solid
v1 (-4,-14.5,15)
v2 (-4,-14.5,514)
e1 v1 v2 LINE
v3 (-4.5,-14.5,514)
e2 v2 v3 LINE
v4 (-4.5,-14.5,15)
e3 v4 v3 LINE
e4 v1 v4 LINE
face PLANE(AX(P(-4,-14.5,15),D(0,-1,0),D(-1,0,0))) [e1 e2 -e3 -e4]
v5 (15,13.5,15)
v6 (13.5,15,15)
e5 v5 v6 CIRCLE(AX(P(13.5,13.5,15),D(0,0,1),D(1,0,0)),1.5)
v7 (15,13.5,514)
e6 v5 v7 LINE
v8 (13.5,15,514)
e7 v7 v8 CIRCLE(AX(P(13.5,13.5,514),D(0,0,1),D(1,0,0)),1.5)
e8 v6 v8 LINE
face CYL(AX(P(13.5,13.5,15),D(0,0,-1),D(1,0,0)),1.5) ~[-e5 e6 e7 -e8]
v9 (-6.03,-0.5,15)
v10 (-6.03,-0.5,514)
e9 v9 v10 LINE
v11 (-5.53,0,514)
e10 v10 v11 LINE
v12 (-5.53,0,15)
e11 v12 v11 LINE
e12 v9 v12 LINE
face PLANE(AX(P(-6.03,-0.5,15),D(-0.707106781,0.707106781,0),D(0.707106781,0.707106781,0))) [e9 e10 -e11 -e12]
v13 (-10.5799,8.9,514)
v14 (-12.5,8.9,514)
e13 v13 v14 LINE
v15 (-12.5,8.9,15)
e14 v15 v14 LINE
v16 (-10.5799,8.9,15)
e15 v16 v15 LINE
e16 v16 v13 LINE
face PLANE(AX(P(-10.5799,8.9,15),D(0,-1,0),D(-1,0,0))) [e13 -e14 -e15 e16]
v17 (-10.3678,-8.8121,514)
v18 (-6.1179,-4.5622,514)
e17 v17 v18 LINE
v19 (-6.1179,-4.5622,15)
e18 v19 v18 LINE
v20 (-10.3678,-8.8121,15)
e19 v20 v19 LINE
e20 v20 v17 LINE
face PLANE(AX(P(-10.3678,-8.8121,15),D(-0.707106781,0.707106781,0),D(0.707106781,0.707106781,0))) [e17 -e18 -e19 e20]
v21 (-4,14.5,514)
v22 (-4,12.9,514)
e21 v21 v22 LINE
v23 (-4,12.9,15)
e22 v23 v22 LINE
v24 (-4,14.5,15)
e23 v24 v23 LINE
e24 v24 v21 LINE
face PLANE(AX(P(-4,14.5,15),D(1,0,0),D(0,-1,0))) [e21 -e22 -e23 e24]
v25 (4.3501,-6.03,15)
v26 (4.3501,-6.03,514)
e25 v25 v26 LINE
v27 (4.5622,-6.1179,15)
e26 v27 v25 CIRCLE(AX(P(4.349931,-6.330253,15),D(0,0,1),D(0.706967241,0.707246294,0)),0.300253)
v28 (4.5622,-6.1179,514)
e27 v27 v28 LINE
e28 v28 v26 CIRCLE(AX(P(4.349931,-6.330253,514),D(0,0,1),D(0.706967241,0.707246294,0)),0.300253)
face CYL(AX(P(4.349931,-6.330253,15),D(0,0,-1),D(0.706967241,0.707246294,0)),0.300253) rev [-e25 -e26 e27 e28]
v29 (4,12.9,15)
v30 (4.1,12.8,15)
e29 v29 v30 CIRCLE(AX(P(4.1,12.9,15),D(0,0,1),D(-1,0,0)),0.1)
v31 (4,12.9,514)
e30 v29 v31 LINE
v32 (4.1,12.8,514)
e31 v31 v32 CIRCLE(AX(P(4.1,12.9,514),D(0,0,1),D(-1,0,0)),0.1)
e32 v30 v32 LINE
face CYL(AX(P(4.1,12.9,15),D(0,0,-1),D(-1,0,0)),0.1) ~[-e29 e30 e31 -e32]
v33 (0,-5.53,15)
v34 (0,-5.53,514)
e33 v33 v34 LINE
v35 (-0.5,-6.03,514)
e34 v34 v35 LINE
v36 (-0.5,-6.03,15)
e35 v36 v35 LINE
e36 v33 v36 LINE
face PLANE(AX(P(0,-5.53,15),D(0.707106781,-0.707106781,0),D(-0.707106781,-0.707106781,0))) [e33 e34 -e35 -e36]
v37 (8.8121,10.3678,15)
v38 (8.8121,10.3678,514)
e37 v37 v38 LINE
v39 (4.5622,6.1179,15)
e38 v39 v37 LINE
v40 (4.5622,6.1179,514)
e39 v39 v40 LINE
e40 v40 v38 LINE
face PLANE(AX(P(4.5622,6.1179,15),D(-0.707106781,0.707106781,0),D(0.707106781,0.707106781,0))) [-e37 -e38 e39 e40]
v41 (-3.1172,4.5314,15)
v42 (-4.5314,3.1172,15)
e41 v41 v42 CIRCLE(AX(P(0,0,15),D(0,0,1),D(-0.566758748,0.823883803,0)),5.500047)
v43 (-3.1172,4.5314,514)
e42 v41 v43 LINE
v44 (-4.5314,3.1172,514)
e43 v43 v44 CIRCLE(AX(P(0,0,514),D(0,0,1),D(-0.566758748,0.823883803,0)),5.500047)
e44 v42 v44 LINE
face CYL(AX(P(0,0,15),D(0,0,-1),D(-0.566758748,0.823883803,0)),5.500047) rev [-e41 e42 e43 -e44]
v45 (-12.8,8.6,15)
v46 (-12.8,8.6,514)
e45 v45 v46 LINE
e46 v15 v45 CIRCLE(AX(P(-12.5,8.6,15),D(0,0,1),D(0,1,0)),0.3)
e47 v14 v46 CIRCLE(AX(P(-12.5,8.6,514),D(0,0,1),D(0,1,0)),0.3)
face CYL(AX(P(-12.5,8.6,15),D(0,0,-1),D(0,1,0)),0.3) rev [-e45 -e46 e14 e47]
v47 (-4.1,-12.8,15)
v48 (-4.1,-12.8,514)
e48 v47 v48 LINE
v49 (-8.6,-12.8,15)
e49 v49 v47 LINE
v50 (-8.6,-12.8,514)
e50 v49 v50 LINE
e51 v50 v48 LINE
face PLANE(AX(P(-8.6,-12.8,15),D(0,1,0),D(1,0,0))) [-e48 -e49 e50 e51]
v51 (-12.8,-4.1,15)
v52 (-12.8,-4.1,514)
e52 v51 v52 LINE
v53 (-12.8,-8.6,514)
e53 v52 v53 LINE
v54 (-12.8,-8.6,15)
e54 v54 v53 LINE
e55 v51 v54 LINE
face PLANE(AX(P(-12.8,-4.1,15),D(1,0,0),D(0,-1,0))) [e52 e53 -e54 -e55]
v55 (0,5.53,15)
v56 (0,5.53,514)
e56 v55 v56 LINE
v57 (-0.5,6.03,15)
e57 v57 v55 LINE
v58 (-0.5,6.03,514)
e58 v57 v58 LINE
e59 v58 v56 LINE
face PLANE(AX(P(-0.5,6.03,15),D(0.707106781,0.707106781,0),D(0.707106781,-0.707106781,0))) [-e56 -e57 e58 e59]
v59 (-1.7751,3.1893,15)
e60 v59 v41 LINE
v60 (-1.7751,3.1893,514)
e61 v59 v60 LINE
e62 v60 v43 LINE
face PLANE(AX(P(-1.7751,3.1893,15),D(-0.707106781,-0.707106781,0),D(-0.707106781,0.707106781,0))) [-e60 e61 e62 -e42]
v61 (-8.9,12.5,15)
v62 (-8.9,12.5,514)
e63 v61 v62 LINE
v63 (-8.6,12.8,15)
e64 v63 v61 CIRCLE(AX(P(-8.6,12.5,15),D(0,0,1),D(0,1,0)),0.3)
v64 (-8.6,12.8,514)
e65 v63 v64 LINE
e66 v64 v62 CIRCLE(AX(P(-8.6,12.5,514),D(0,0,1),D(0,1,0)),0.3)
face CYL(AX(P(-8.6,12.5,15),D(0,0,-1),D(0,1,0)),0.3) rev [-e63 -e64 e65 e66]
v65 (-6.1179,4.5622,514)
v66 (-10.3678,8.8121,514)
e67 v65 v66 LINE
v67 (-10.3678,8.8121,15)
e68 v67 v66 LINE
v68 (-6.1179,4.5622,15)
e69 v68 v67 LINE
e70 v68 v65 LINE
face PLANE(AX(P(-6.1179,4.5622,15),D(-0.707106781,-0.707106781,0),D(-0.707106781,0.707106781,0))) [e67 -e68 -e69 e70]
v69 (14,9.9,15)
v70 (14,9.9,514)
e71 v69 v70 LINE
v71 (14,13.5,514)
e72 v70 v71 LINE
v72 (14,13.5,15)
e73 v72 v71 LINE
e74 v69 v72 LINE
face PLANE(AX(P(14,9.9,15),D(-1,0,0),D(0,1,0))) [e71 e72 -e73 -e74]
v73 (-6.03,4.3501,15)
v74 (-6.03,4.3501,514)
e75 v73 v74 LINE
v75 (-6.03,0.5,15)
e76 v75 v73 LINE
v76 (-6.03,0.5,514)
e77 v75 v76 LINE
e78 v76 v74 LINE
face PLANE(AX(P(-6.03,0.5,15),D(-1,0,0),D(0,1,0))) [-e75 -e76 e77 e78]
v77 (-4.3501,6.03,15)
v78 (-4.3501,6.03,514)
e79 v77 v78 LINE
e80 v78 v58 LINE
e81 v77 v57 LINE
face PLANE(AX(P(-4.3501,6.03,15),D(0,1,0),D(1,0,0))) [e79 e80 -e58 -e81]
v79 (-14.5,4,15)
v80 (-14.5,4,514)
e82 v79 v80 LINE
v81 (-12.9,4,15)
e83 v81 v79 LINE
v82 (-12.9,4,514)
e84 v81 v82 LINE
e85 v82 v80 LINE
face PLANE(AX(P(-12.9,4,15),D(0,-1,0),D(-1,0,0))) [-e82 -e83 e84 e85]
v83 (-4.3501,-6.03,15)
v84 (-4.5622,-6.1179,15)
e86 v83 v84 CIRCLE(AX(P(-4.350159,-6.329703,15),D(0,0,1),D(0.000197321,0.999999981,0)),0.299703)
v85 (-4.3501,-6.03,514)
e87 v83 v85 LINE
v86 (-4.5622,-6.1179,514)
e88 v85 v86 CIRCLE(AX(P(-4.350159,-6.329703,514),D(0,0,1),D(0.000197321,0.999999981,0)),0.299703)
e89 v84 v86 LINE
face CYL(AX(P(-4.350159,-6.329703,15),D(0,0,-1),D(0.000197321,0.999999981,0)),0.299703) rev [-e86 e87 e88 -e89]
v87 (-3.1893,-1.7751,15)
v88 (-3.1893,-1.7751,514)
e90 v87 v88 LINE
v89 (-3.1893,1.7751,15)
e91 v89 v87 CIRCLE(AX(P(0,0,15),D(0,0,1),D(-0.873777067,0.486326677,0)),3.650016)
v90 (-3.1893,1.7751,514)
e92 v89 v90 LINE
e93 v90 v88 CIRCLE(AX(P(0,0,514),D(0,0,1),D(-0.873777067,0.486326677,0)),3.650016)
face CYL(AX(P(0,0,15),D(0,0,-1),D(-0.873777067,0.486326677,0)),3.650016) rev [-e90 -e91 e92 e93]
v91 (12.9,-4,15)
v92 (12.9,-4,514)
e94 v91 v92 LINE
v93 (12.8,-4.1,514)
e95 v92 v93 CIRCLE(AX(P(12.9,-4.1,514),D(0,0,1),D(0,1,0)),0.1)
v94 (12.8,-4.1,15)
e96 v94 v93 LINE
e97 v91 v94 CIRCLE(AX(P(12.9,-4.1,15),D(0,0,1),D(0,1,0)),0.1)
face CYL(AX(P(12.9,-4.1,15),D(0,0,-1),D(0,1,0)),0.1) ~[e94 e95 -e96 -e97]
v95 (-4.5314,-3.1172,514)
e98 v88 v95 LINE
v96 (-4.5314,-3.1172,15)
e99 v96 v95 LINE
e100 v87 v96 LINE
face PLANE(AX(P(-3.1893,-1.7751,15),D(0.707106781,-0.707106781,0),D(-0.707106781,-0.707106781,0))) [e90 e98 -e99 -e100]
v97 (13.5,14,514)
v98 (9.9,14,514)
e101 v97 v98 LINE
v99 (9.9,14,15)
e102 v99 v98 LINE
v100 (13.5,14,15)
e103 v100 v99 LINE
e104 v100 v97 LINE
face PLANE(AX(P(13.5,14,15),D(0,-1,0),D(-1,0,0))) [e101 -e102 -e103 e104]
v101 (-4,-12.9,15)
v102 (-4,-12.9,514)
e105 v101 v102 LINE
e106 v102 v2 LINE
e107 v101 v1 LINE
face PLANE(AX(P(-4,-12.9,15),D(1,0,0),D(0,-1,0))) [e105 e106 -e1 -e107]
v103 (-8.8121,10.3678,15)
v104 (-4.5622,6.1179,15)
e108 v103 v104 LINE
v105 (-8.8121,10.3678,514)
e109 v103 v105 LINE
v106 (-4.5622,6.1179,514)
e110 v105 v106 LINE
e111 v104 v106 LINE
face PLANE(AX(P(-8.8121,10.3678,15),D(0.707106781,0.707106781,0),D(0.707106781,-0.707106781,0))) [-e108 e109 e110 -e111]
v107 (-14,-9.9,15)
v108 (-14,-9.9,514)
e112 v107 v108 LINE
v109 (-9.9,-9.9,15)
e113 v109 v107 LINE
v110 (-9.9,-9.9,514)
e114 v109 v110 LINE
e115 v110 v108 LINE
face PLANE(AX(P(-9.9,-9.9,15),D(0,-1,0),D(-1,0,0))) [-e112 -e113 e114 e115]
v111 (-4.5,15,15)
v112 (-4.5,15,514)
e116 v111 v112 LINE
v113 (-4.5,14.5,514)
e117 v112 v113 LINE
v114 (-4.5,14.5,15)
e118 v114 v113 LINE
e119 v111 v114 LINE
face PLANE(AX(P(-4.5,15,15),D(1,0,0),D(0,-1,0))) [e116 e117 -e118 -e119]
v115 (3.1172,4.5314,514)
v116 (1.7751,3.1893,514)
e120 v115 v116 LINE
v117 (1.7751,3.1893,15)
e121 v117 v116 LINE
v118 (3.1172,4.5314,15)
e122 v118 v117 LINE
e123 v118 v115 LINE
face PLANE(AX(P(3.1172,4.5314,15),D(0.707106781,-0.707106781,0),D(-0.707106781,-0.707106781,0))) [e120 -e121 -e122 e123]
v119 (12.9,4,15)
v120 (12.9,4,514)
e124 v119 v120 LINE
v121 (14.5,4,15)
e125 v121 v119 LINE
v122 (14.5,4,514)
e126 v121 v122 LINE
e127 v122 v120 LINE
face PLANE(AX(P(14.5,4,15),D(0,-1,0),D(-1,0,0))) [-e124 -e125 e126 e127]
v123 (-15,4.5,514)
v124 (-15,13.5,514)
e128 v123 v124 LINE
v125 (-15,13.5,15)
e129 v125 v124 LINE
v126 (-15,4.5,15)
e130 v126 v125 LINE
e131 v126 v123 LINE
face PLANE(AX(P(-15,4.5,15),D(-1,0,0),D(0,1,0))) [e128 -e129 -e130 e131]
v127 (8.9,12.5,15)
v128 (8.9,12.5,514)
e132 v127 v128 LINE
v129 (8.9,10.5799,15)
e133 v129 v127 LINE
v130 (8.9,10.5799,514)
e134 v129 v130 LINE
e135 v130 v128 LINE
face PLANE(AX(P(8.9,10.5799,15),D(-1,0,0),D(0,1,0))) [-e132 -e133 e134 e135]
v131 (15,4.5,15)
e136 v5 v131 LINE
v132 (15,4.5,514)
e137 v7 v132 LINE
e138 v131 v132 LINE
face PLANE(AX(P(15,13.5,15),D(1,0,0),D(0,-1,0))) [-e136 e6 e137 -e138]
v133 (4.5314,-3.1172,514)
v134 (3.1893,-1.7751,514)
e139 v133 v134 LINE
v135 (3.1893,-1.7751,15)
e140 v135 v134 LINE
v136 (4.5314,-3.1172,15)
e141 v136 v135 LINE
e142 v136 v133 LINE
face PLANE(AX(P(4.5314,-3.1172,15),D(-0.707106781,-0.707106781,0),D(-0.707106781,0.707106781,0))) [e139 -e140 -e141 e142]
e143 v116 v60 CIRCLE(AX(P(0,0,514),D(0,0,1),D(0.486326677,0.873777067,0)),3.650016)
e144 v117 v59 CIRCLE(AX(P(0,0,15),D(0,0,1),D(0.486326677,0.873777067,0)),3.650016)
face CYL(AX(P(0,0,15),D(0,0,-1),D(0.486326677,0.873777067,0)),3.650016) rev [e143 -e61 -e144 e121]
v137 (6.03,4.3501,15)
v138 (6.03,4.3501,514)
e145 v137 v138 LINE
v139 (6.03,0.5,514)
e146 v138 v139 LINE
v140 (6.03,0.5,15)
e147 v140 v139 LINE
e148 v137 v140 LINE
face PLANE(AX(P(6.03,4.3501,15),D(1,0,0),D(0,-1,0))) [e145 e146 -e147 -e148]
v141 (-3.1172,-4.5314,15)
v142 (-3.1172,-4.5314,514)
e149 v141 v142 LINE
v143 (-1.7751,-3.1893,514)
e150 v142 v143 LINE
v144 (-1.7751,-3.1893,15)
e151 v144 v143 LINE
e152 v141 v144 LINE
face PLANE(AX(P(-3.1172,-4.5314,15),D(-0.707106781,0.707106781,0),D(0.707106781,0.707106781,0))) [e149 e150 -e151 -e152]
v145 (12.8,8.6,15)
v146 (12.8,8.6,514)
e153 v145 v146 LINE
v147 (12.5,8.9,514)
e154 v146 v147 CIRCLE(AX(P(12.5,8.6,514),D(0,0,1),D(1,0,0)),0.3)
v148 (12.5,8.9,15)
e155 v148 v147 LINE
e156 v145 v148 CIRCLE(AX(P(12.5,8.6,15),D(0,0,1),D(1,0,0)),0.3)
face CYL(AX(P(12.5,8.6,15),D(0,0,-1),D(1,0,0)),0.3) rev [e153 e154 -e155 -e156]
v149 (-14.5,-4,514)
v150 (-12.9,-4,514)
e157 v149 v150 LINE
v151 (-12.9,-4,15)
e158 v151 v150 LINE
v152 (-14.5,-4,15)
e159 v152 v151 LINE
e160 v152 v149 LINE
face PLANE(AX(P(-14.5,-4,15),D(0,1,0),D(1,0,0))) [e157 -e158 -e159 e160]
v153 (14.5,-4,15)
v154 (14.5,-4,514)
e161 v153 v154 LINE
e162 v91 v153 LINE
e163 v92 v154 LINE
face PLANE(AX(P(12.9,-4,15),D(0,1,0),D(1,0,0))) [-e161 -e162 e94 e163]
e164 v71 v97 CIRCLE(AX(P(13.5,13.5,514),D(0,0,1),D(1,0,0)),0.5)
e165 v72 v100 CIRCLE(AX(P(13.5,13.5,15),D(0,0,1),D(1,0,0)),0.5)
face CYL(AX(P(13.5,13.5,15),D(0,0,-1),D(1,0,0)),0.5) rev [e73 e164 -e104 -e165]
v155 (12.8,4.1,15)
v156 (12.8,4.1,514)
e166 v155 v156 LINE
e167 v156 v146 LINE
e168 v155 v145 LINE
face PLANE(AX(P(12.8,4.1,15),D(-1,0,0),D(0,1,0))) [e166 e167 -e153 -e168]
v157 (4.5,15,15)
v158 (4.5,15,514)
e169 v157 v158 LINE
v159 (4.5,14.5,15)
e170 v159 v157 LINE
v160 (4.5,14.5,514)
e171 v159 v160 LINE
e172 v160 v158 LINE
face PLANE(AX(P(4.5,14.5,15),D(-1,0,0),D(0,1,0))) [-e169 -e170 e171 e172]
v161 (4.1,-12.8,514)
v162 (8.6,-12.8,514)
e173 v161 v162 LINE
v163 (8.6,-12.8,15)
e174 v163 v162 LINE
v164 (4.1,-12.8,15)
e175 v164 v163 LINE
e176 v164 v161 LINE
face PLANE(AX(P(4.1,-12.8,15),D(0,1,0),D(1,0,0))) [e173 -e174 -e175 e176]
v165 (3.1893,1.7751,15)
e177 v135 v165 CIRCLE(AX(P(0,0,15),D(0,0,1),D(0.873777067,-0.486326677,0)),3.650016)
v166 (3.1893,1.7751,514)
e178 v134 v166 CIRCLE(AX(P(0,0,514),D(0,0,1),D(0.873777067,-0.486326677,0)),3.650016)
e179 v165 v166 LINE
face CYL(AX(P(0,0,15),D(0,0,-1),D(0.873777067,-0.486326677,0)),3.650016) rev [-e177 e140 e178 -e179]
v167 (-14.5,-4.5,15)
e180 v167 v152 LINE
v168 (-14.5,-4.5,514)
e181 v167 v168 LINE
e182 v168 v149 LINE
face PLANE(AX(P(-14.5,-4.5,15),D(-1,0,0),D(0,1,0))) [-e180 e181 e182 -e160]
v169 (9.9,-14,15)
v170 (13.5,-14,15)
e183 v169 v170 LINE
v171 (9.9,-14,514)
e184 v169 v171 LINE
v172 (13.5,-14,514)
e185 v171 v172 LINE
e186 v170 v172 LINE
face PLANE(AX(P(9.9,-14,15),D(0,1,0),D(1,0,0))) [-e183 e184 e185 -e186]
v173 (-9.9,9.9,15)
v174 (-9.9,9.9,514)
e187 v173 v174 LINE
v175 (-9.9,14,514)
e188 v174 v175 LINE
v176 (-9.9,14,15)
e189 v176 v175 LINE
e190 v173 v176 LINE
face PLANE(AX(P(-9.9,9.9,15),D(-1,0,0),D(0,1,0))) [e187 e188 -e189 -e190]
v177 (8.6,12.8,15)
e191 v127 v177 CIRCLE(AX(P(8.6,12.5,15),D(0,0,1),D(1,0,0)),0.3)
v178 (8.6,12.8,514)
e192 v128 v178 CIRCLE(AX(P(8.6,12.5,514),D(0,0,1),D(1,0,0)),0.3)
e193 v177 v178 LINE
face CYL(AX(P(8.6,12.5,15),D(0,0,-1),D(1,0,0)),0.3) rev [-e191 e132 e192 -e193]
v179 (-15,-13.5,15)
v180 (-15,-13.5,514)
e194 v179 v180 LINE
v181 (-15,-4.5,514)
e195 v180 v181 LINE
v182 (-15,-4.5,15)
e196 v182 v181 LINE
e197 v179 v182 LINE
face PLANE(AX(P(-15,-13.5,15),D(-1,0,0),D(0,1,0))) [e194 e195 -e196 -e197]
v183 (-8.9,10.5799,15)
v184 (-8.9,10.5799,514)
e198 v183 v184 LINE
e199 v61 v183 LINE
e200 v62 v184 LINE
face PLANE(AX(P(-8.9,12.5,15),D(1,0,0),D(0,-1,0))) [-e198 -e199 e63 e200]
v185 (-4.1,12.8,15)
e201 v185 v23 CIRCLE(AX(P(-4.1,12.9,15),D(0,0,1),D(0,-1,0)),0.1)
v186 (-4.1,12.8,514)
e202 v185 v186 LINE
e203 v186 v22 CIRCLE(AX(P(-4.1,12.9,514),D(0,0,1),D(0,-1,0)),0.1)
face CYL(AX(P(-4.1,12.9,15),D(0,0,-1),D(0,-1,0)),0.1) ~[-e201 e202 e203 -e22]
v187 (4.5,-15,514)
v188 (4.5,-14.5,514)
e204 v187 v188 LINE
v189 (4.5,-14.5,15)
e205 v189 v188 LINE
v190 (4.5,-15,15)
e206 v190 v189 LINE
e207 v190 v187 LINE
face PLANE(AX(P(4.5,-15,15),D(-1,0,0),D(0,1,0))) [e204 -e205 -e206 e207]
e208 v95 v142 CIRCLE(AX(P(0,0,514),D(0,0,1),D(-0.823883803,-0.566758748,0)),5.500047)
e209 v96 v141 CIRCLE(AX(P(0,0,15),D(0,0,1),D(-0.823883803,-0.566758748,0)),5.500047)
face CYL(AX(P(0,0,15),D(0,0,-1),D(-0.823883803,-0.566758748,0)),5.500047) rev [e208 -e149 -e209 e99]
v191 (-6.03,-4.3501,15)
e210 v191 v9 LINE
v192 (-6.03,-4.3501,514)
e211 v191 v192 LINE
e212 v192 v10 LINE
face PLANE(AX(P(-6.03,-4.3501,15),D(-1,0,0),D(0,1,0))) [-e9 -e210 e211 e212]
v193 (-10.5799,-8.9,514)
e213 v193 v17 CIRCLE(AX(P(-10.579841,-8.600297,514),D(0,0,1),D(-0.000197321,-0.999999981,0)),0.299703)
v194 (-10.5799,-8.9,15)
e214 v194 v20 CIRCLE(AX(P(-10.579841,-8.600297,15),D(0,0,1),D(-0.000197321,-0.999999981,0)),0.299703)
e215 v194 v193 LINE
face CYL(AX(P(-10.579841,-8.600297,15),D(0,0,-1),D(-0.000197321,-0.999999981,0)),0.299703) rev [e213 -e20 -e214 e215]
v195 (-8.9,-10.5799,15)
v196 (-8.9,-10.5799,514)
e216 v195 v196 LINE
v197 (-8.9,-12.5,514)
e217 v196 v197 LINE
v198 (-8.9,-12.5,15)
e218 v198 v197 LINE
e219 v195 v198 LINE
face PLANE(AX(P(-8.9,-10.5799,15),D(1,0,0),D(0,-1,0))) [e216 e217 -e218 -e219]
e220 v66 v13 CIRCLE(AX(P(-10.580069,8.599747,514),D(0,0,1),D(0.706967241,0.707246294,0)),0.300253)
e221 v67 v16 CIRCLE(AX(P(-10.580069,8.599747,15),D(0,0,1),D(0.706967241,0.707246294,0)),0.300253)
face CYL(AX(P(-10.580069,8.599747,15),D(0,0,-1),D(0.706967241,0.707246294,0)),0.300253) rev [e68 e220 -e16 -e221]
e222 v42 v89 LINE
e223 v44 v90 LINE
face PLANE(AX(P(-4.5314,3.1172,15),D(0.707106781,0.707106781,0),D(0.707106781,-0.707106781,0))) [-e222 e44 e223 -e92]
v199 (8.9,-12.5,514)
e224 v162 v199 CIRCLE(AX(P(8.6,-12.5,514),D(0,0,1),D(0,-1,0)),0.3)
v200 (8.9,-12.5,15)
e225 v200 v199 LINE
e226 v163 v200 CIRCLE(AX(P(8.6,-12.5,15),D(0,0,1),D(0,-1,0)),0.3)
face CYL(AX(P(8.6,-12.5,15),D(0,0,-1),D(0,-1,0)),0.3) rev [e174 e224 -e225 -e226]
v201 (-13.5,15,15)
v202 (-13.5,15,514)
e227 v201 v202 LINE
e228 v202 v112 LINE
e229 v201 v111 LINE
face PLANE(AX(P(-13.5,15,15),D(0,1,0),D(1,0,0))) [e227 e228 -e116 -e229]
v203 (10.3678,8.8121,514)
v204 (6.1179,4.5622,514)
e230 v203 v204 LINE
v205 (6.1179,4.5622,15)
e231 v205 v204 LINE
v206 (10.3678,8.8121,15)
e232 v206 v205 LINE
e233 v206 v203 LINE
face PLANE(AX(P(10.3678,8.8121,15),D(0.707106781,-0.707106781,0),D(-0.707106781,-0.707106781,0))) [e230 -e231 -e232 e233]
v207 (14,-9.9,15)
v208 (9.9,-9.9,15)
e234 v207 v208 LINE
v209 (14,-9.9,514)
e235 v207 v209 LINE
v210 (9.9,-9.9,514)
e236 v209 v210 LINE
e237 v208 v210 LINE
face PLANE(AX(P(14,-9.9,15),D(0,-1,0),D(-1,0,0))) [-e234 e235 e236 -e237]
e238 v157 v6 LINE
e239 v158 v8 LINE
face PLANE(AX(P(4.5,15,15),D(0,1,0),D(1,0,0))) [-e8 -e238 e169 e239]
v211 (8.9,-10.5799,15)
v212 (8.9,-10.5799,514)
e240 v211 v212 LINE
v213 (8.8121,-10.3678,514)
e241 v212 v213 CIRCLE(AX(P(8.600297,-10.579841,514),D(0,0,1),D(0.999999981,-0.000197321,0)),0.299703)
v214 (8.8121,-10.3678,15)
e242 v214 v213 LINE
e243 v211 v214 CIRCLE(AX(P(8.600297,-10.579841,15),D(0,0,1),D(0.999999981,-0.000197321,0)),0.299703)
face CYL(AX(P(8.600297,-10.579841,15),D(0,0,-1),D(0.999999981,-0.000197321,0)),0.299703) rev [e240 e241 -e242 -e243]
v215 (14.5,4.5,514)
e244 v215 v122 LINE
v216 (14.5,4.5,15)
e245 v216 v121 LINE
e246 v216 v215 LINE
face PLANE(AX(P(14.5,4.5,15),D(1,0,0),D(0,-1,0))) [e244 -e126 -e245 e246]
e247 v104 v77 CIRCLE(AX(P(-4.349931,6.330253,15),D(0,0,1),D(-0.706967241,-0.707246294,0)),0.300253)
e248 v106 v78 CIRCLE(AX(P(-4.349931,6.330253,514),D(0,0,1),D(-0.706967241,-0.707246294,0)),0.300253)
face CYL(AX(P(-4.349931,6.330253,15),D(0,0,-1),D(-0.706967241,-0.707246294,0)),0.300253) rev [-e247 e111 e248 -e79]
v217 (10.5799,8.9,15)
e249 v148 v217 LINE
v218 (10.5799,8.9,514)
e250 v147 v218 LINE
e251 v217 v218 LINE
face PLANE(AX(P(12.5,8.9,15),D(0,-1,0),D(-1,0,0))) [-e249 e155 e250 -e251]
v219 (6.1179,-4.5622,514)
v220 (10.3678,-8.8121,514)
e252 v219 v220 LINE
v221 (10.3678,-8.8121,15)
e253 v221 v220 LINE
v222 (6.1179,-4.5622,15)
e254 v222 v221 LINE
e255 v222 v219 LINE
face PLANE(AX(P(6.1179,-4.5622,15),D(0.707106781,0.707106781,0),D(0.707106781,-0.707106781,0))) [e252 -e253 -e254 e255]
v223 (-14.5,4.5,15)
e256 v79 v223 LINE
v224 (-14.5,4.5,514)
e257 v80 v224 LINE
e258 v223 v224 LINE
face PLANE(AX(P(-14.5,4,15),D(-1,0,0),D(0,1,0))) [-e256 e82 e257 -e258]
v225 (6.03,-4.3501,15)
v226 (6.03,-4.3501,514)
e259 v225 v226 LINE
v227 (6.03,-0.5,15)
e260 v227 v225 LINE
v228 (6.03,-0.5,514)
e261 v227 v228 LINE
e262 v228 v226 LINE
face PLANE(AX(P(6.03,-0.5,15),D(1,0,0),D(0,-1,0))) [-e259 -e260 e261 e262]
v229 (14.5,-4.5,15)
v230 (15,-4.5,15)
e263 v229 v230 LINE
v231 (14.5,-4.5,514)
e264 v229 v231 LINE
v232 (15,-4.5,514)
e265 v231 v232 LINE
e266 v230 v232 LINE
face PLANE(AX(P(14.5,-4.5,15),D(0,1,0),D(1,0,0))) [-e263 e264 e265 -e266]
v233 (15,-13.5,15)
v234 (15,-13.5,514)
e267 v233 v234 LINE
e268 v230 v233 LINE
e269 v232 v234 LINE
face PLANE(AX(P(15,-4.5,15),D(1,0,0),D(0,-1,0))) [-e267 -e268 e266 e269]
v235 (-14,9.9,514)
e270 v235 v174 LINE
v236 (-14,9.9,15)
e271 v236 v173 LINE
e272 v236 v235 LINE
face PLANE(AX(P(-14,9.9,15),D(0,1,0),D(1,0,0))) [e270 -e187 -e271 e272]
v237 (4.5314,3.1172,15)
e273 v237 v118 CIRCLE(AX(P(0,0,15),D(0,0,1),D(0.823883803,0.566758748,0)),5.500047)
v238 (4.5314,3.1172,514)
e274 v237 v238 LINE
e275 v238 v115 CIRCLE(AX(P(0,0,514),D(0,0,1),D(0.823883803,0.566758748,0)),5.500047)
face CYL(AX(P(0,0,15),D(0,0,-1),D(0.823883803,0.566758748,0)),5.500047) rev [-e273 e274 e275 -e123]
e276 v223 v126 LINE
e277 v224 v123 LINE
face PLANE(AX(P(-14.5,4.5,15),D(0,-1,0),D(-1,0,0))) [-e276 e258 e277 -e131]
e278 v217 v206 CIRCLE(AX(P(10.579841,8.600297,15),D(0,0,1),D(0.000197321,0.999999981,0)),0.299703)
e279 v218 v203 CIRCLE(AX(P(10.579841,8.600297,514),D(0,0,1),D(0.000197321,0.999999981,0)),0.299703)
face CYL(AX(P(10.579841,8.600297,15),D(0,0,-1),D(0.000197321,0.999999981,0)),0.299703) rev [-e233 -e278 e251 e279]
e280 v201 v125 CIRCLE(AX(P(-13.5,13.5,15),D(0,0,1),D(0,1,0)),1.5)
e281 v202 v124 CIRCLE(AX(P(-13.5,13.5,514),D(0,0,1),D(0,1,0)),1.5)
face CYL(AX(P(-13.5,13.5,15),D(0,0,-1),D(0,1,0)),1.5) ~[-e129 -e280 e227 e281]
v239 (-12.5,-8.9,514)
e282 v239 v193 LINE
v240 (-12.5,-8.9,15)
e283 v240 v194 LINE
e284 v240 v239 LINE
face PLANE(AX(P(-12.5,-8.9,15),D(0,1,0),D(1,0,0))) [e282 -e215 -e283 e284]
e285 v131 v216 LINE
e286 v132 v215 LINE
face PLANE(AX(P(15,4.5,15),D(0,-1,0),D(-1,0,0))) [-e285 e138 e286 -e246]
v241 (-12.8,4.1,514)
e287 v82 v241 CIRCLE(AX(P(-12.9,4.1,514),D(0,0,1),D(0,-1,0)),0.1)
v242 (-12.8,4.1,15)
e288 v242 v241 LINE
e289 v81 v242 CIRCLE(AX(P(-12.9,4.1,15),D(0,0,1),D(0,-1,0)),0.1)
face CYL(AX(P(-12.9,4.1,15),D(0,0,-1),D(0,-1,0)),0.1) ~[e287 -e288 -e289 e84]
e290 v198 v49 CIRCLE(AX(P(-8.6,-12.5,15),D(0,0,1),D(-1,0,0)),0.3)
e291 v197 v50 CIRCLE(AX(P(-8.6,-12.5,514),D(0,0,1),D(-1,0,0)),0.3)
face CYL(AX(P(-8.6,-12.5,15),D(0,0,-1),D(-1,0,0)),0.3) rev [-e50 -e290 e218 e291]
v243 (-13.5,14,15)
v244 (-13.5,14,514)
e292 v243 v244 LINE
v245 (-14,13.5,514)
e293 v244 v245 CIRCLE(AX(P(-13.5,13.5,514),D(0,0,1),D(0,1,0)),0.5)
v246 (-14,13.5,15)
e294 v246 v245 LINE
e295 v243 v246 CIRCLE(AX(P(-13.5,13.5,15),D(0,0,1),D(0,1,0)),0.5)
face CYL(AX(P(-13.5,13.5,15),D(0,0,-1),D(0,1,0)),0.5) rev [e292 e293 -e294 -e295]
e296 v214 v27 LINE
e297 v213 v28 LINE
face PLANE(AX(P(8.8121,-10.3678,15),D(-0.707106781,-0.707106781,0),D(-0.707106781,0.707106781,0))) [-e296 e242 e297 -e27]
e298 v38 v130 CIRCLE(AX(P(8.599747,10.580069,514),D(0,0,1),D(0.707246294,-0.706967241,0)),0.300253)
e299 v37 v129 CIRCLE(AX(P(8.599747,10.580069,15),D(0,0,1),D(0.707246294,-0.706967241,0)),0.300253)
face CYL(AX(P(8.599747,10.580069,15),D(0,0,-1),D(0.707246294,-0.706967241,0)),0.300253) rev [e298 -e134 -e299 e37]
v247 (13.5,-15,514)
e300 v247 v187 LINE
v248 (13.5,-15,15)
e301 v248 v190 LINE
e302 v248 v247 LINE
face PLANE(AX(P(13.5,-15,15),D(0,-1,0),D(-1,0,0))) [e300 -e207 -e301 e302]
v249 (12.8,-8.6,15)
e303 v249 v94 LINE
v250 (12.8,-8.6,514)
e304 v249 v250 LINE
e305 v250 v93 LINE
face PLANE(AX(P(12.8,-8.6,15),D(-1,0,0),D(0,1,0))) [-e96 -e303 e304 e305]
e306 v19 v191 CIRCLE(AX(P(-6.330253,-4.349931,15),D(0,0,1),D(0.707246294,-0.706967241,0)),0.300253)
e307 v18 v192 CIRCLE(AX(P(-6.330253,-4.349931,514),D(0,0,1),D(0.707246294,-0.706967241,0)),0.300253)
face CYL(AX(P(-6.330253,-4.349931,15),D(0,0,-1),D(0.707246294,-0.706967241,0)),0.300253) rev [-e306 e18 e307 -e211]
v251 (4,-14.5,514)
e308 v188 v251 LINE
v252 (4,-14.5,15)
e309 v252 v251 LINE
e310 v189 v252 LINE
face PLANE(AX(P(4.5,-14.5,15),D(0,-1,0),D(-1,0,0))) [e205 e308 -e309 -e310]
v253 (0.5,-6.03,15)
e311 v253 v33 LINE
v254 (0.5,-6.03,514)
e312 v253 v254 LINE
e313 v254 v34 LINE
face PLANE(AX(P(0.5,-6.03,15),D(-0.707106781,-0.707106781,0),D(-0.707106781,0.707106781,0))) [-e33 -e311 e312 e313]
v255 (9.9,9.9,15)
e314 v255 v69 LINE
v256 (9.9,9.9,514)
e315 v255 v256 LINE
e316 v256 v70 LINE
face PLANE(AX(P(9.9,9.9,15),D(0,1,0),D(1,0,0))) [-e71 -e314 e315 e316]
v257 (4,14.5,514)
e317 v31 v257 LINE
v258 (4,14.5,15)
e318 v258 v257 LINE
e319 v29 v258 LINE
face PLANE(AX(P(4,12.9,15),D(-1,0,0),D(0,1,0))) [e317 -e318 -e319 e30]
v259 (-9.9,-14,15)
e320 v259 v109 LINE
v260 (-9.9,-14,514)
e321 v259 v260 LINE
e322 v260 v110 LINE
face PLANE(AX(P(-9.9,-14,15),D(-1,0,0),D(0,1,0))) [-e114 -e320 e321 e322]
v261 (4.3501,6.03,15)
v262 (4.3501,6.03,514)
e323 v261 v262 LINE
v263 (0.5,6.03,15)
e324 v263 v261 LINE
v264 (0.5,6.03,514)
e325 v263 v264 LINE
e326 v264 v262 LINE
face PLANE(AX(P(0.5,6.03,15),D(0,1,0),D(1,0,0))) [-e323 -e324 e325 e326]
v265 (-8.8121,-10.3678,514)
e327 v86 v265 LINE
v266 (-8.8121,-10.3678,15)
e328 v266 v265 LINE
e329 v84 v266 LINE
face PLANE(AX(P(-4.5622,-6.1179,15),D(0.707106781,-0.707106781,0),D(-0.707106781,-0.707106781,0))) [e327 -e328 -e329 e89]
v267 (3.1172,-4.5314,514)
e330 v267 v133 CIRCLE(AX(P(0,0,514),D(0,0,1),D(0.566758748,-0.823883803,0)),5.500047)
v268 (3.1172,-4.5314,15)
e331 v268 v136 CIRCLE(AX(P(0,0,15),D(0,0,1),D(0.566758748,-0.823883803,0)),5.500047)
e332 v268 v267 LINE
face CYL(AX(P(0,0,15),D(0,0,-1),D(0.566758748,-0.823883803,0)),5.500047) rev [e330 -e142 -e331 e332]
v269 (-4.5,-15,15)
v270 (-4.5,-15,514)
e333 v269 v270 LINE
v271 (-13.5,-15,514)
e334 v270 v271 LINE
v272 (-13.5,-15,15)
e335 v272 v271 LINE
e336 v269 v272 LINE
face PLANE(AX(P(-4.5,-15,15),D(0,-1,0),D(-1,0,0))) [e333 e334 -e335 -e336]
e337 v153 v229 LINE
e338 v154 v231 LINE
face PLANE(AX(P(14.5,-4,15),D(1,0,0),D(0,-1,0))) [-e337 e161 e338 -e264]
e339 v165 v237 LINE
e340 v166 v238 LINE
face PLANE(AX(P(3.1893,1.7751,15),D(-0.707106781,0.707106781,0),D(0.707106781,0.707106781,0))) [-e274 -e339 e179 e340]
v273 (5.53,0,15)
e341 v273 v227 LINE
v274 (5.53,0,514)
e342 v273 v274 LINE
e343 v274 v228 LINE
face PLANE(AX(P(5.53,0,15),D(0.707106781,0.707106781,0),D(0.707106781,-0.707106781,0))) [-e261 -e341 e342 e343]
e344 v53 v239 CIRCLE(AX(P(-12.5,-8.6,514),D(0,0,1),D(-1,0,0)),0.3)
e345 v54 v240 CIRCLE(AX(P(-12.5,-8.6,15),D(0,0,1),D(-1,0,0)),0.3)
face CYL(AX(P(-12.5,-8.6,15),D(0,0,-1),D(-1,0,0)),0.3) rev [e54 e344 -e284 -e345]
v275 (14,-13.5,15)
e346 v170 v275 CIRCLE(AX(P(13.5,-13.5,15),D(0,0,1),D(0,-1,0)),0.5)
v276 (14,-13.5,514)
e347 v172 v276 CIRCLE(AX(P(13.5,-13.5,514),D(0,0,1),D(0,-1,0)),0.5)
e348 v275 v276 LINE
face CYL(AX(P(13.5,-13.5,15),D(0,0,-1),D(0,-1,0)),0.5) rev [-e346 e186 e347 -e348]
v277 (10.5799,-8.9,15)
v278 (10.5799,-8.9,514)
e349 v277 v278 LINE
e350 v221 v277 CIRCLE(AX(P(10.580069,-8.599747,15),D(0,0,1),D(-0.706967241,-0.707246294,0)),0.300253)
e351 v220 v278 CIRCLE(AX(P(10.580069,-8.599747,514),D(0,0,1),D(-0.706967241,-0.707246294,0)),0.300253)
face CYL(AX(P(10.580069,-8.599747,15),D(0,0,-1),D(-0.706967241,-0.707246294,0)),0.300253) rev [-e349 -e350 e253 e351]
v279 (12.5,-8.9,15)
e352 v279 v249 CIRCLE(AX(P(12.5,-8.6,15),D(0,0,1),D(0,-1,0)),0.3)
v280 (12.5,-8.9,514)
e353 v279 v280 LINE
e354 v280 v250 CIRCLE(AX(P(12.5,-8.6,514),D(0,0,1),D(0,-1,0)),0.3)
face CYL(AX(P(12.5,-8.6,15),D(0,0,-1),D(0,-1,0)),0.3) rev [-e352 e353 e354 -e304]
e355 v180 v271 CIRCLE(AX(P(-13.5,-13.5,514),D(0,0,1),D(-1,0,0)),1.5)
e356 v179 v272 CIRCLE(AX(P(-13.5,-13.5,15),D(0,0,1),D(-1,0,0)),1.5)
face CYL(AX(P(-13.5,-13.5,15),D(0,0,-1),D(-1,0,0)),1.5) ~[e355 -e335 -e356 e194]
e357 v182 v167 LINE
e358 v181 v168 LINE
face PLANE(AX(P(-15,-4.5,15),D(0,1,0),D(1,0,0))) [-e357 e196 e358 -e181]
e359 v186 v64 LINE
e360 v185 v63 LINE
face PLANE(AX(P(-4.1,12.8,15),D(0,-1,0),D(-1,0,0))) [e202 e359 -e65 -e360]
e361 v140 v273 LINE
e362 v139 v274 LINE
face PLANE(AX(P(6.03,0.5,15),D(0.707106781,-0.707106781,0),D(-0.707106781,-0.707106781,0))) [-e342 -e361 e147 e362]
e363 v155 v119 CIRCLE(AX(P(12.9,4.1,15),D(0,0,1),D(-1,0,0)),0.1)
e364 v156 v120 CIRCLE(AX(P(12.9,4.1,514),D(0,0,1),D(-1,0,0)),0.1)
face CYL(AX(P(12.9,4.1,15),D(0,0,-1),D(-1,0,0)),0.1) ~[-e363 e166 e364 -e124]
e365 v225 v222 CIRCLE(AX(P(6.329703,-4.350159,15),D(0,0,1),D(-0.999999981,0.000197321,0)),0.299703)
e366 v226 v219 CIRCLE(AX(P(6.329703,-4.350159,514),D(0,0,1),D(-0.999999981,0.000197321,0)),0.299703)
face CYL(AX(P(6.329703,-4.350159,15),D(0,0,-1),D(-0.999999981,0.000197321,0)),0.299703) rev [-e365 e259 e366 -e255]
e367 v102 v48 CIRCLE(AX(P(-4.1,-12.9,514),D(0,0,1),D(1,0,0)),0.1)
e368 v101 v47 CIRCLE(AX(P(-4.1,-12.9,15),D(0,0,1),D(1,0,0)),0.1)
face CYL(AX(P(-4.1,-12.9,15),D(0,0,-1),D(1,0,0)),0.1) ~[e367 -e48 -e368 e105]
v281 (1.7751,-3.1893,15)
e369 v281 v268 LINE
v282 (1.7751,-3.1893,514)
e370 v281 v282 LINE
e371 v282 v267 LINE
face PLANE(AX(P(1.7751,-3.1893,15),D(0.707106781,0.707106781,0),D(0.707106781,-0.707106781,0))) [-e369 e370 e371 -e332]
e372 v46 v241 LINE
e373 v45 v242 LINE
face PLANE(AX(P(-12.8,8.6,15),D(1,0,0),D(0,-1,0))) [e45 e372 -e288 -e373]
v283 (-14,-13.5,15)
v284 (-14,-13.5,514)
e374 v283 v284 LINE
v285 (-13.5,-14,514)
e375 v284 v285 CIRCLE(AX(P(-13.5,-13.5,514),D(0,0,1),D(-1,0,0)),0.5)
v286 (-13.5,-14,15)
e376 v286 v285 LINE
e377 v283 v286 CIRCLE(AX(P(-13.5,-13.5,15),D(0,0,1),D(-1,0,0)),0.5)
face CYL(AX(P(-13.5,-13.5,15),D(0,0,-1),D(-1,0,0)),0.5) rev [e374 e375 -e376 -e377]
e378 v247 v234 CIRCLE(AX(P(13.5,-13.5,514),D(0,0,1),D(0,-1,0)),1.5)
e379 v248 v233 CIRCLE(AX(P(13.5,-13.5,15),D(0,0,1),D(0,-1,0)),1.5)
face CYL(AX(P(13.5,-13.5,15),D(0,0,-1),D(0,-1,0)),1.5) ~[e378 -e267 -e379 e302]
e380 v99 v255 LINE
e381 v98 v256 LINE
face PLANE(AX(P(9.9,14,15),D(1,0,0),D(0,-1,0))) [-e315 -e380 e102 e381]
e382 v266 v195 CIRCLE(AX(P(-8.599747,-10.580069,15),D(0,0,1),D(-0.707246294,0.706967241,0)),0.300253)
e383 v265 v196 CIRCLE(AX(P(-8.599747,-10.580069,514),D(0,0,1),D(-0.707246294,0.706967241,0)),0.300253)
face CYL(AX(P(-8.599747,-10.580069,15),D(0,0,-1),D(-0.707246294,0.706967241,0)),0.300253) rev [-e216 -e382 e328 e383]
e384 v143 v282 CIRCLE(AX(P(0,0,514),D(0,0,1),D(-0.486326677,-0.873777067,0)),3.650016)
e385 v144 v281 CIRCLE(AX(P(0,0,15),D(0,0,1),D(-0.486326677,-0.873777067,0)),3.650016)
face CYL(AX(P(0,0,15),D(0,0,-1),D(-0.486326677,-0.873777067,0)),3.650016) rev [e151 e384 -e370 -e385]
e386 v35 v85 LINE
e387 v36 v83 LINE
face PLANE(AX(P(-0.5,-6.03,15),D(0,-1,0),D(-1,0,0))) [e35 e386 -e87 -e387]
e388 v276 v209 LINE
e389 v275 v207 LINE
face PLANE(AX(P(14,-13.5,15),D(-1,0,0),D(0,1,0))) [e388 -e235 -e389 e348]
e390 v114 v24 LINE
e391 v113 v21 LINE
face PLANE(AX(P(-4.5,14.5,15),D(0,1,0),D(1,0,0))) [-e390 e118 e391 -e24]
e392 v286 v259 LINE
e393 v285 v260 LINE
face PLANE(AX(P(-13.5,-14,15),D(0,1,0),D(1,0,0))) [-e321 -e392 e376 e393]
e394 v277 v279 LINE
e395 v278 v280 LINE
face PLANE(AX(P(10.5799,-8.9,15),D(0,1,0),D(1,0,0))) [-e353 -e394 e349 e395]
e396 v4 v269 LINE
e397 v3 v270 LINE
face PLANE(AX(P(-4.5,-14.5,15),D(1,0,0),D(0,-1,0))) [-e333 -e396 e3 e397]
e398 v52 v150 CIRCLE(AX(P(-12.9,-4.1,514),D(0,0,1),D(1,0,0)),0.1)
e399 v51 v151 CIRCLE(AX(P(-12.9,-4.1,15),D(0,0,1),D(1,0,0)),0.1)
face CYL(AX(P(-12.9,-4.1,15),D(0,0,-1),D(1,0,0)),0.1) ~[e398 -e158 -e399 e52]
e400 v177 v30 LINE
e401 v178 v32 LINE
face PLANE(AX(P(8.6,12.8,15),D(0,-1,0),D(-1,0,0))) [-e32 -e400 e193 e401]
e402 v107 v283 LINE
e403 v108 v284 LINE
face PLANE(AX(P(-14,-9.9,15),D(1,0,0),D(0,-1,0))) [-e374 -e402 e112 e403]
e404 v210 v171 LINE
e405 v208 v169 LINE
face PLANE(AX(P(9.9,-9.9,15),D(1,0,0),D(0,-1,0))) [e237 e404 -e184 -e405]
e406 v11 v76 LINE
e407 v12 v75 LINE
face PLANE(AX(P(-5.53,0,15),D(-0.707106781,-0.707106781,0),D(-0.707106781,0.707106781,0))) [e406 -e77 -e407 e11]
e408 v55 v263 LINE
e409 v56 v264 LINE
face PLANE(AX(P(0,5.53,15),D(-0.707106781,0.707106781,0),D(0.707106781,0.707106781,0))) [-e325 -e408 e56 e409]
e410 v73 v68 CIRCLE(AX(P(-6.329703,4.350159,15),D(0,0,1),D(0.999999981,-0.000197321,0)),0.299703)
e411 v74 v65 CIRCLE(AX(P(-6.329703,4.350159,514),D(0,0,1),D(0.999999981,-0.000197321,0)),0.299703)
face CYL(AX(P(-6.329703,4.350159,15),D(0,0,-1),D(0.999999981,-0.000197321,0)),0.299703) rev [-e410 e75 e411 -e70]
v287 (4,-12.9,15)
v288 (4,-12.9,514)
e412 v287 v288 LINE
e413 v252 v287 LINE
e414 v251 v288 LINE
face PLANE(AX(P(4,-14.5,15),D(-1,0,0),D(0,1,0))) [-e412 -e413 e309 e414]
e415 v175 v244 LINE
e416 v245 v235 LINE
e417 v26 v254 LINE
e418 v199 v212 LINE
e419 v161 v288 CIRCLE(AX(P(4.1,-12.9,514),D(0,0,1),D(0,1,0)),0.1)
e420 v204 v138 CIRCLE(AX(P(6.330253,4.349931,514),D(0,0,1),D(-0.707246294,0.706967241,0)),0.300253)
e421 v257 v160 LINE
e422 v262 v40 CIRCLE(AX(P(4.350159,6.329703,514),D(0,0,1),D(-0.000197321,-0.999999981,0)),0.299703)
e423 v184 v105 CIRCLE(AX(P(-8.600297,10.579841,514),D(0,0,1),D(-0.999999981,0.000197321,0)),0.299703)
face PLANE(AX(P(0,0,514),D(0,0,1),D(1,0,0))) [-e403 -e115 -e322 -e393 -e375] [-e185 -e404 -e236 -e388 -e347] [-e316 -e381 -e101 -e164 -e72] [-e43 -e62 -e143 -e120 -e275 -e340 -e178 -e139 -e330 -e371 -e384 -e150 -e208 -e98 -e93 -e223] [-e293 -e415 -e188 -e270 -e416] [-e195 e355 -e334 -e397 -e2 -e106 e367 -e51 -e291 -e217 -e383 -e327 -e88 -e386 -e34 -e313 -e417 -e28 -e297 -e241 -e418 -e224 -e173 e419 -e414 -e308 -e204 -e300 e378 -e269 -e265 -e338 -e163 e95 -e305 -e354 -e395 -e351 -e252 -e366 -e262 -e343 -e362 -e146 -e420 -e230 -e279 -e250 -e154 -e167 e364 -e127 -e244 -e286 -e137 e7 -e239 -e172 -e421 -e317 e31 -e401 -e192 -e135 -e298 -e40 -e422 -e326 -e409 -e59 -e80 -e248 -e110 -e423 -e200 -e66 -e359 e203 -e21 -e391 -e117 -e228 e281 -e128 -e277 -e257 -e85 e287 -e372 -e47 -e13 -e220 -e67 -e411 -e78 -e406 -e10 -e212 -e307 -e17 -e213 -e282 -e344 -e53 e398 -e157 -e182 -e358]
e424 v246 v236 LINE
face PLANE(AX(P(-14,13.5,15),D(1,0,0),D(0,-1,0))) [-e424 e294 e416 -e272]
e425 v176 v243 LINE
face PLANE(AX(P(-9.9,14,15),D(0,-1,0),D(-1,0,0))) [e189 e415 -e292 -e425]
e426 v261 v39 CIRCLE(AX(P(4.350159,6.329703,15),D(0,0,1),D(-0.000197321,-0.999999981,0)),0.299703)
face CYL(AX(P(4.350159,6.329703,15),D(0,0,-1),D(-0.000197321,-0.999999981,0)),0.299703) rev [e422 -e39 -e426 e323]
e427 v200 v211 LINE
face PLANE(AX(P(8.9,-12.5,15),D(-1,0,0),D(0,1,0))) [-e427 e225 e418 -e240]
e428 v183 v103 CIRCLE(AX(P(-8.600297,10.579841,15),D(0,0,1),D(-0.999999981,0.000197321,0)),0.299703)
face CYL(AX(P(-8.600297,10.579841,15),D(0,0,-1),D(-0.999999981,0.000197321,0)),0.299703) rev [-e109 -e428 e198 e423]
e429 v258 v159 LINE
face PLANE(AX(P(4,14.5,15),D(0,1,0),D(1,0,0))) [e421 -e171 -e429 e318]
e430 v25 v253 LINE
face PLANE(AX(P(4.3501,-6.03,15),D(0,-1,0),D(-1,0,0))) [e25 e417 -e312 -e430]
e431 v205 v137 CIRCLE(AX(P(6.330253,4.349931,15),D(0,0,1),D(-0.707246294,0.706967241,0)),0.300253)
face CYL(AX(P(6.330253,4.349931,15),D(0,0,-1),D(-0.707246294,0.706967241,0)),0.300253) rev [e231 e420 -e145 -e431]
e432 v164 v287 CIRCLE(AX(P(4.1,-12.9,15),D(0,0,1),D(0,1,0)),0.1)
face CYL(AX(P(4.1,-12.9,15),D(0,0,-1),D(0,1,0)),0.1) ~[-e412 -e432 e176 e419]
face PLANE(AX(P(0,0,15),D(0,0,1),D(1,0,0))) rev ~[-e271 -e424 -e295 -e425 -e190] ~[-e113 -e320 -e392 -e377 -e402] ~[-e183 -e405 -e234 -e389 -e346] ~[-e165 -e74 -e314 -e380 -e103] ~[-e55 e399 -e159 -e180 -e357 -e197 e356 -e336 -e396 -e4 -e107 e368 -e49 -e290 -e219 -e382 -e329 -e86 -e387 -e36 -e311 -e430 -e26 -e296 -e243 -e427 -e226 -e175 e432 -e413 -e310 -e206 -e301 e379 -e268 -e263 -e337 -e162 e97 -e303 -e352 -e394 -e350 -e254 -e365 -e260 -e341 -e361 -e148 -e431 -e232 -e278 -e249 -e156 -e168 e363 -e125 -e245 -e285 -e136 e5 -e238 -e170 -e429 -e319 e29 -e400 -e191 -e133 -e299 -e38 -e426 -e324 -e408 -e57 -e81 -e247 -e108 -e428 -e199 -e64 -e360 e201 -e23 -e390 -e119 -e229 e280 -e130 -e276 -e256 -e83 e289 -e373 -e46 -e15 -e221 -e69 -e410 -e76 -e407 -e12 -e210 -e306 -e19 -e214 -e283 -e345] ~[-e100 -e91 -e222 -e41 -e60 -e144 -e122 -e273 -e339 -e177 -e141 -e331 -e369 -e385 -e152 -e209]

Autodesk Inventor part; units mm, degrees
ref_plane "Płaszczyzna początkowa" through (0, 0, 15) normal (0, 0, 1) x (1, 0, 0)
ref_plane "Płaszczyzna końcowa" through (0, 0, 514) normal (0, 0, 1) x (1, 0, 0)
sketch "Szkic" plane through (0, 0, 0) normal (0, 0, 1) x (1, 0, 0)
  line L0 (1.7751, -3.1893) -> (3.1172, -4.5314)
  arc A0 (-1.7751, -3.1893) -> (1.7751, -3.1893) centre (0, 0) ccw
  line L1 (-3.1172, -4.5314) -> (-1.7751, -3.1893)
  arc A1 (-4.5314, -3.1172) -> (-3.1172, -4.5314) centre (0, 0) ccw
  line L2 (-3.1893, -1.7751) -> (-4.5314, -3.1172)
  arc A2 (-3.1893, 1.7751) -> (-3.1893, -1.7751) centre (0, 0) ccw
  line L3 (-4.5314, 3.1172) -> (-3.1893, 1.7751)
  arc A3 (-3.1172, 4.5314) -> (-4.5314, 3.1172) centre (0, 0) ccw
  line L4 (-1.7751, 3.1893) -> (-3.1172, 4.5314)
  arc A4 (1.7751, 3.1893) -> (-1.7751, 3.1893) centre (0, 0) ccw
  line L5 (3.1172, 4.5314) -> (1.7751, 3.1893)
  arc A5 (4.5314, 3.1172) -> (3.1172, 4.5314) centre (0, 0) ccw
  line L6 (3.1893, 1.7751) -> (4.5314, 3.1172)
  arc A6 (3.1893, -1.7751) -> (3.1893, 1.7751) centre (0, 0) ccw
  line L7 (4.5314, -3.1172) -> (3.1893, -1.7751)
  arc A7 (3.1172, -4.5314) -> (4.5314, -3.1172) centre (0, 0) ccw
  line L8 (14, -13.5) -> (14, -9.9)
  arc A8 (13.5, -14) -> (14, -13.5) centre (13.5, -13.5) ccw
  line L9 (9.9, -14) -> (13.5, -14)
  line L10 (9.9, -9.9) -> (9.9, -14)
  line L11 (14, -9.9) -> (9.9, -9.9)
  line L12 (-9.9, -9.9) -> (-14, -9.9)
  line L13 (-9.9, -14) -> (-9.9, -9.9)
  line L14 (-13.5, -14) -> (-9.9, -14)
  arc A9 (-14, -13.5) -> (-13.5, -14) centre (-13.5, -13.5) ccw
  line L15 (-14, -9.9) -> (-14, -13.5)
  line L16 (14, 9.9) -> (14, 13.5)
  line L17 (9.9, 9.9) -> (14, 9.9)
  line L18 (9.9, 14) -> (9.9, 9.9)
  line L19 (13.5, 14) -> (9.9, 14)
  arc A10 (14, 13.5) -> (13.5, 14) centre (13.5, 13.5) ccw
  line L20 (-14, 9.9) -> (-9.9, 9.9)
  line L21 (-14, 13.5) -> (-14, 9.9)
  arc A11 (-13.5, 14) -> (-14, 13.5) centre (-13.5, 13.5) ccw
  line L22 (-9.9, 14) -> (-13.5, 14)
  line L23 (-9.9, 9.9) -> (-9.9, 14)
  line L24 (13.5, -15) -> (4.5, -15)
  arc A12 (13.5, -15) -> (15, -13.5) centre (13.5, -13.5) ccw
  line L25 (15, -4.5) -> (15, -13.5)
  line L26 (14.5, -4.5) -> (15, -4.5)
  line L27 (14.5, -4) -> (14.5, -4.5)
  line L28 (12.9, -4) -> (14.5, -4)
  arc A13 (12.9, -4) -> (12.8, -4.1) centre (12.9, -4.1) ccw
  line L29 (12.8, -8.6) -> (12.8, -4.1)
  arc A14 (12.5, -8.9) -> (12.8, -8.6) centre (12.5, -8.6) ccw
  line L30 (10.5799, -8.9) -> (12.5, -8.9)
  arc A15 (10.3678, -8.8121) -> (10.5799, -8.9) centre (10.5799, -8.6) ccw
  line L31 (6.1179, -4.5622) -> (10.3678, -8.8121)
  arc A16 (6.03, -4.3501) -> (6.1179, -4.5622) centre (6.33, -4.3501) ccw
  line L32 (6.03, -0.5) -> (6.03, -4.3501)
  line L33 (5.53, 0) -> (6.03, -0.5)
  line L34 (6.03, 0.5) -> (5.53, 0)
  line L35 (6.03, 4.3501) -> (6.03, 0.5)
  arc A17 (6.1179, 4.5622) -> (6.03, 4.3501) centre (6.33, 4.3501) ccw
  line L36 (10.3678, 8.8121) -> (6.1179, 4.5622)
  arc A18 (10.5799, 8.9) -> (10.3678, 8.8121) centre (10.5799, 8.6) ccw
  line L37 (12.5, 8.9) -> (10.5799, 8.9)
  arc A19 (12.8, 8.6) -> (12.5, 8.9) centre (12.5, 8.6) ccw
  line L38 (12.8, 4.1) -> (12.8, 8.6)
  arc A20 (12.8, 4.1) -> (12.9, 4) centre (12.9, 4.1) ccw
  line L39 (14.5, 4) -> (12.9, 4)
  line L40 (14.5, 4.5) -> (14.5, 4)
  line L41 (15, 4.5) -> (14.5, 4.5)
  line L42 (15, 13.5) -> (15, 4.5)
  arc A21 (15, 13.5) -> (13.5, 15) centre (13.5, 13.5) ccw
  line L43 (4.5, 15) -> (13.5, 15)
  line L44 (4.5, 14.5) -> (4.5, 15)
  line L45 (4, 14.5) -> (4.5, 14.5)
  line L46 (4, 12.9) -> (4, 14.5)
  arc A22 (4, 12.9) -> (4.1, 12.8) centre (4.1, 12.9) ccw
  line L47 (8.6, 12.8) -> (4.1, 12.8)
  arc A23 (8.9, 12.5) -> (8.6, 12.8) centre (8.6, 12.5) ccw
  line L48 (8.9, 10.5799) -> (8.9, 12.5)
  arc A24 (8.8121, 10.3678) -> (8.9, 10.5799) centre (8.6, 10.5799) ccw
  line L49 (4.5622, 6.1179) -> (8.8121, 10.3678)
  arc A25 (4.3501, 6.03) -> (4.5622, 6.1179) centre (4.3501, 6.33) ccw
  line L50 (0.5, 6.03) -> (4.3501, 6.03)
  line L51 (0, 5.53) -> (0.5, 6.03)
  line L52 (-0.5, 6.03) -> (0, 5.53)
  line L53 (-4.3501, 6.03) -> (-0.5, 6.03)
  arc A26 (-4.5622, 6.1179) -> (-4.3501, 6.03) centre (-4.3501, 6.33) ccw
  line L54 (-8.8121, 10.3678) -> (-4.5622, 6.1179)
  arc A27 (-8.9, 10.5799) -> (-8.8121, 10.3678) centre (-8.6, 10.5799) ccw
  line L55 (-8.9, 12.5) -> (-8.9, 10.5799)
  arc A28 (-8.6, 12.8) -> (-8.9, 12.5) centre (-8.6, 12.5) ccw
  line L56 (-4.1, 12.8) -> (-8.6, 12.8)
  arc A29 (-4.1, 12.8) -> (-4, 12.9) centre (-4.1, 12.9) ccw
  line L57 (-4, 14.5) -> (-4, 12.9)
  line L58 (-4.5, 14.5) -> (-4, 14.5)
  line L59 (-4.5, 15) -> (-4.5, 14.5)
  line L60 (-13.5, 15) -> (-4.5, 15)
  arc A30 (-13.5, 15) -> (-15, 13.5) centre (-13.5, 13.5) ccw
  line L61 (-15, 4.5) -> (-15, 13.5)
  line L62 (-14.5, 4.5) -> (-15, 4.5)
  line L63 (-14.5, 4) -> (-14.5, 4.5)
  line L64 (-12.9, 4) -> (-14.5, 4)
  arc A31 (-12.9, 4) -> (-12.8, 4.1) centre (-12.9, 4.1) ccw
  line L65 (-12.8, 8.6) -> (-12.8, 4.1)
  arc A32 (-12.5, 8.9) -> (-12.8, 8.6) centre (-12.5, 8.6) ccw
  line L66 (-10.5799, 8.9) -> (-12.5, 8.9)
  arc A33 (-10.3678, 8.8121) -> (-10.5799, 8.9) centre (-10.5799, 8.6) ccw
  line L67 (-6.1179, 4.5622) -> (-10.3678, 8.8121)
  arc A34 (-6.03, 4.3501) -> (-6.1179, 4.5622) centre (-6.33, 4.3501) ccw
  line L68 (-6.03, 0.5) -> (-6.03, 4.3501)
  line L69 (-5.53, 0) -> (-6.03, 0.5)
  line L70 (-6.03, -0.5) -> (-5.53, 0)
  line L71 (-6.03, -4.3501) -> (-6.03, -0.5)
  arc A35 (-6.1179, -4.5622) -> (-6.03, -4.3501) centre (-6.33, -4.3501) ccw
  line L72 (-10.3678, -8.8121) -> (-6.1179, -4.5622)
  arc A36 (-10.5799, -8.9) -> (-10.3678, -8.8121) centre (-10.5799, -8.6) ccw
  line L73 (-12.5, -8.9) -> (-10.5799, -8.9)
  arc A37 (-12.8, -8.6) -> (-12.5, -8.9) centre (-12.5, -8.6) ccw
  line L74 (-12.8, -4.1) -> (-12.8, -8.6)
  arc A38 (-12.8, -4.1) -> (-12.9, -4) centre (-12.9, -4.1) ccw
  line L75 (-14.5, -4) -> (-12.9, -4)
  line L76 (-14.5, -4.5) -> (-14.5, -4)
  line L77 (-15, -4.5) -> (-14.5, -4.5)
  line L78 (-15, -13.5) -> (-15, -4.5)
  arc A39 (-15, -13.5) -> (-13.5, -15) centre (-13.5, -13.5) ccw
  line L79 (-4.5, -15) -> (-13.5, -15)
  line L80 (-4.5, -14.5) -> (-4.5, -15)
  line L81 (-4, -14.5) -> (-4.5, -14.5)
  line L82 (-4, -12.9) -> (-4, -14.5)
  arc A40 (-4, -12.9) -> (-4.1, -12.8) centre (-4.1, -12.9) ccw
  line L83 (-8.6, -12.8) -> (-4.1, -12.8)
  arc A41 (-8.9, -12.5) -> (-8.6, -12.8) centre (-8.6, -12.5) ccw
  line L84 (-8.9, -10.5799) -> (-8.9, -12.5)
  arc A42 (-8.8121, -10.3678) -> (-8.9, -10.5799) centre (-8.6, -10.5799) ccw
  line L85 (-4.5622, -6.1179) -> (-8.8121, -10.3678)
  arc A43 (-4.3501, -6.03) -> (-4.5622, -6.1179) centre (-4.3501, -6.33) ccw
  line L86 (-0.5, -6.03) -> (-4.3501, -6.03)
  line L87 (0, -5.53) -> (-0.5, -6.03)
  line L88 (0.5, -6.03) -> (0, -5.53)
  line L89 (4.3501, -6.03) -> (0.5, -6.03)
  arc A44 (4.5622, -6.1179) -> (4.3501, -6.03) centre (4.3501, -6.33) ccw
  line L90 (8.8121, -10.3678) -> (4.5622, -6.1179)
  arc A45 (8.9, -10.5799) -> (8.8121, -10.3678) centre (8.6, -10.5799) ccw
  line L91 (8.9, -12.5) -> (8.9, -10.5799)
  arc A46 (8.6, -12.8) -> (8.9, -12.5) centre (8.6, -12.5) ccw
  line L92 (4.1, -12.8) -> (8.6, -12.8)
  arc A47 (4.1, -12.8) -> (4, -12.9) centre (4.1, -12.9) ccw
  line L93 (4, -14.5) -> (4, -12.9)
  line L94 (4.5, -14.5) -> (4, -14.5)
  line L95 (4.5, -15) -> (4.5, -14.5)
  point P0 (15, -15)
extrude "Bryła" add sketch "Szkic" along normal up to surface (499 mm away) from surface at 15
sketch "Szkic2" plane through (0, 0, 0) normal (0, 0, 1) x (1, 0, 0)
  line L0 (0, 0) -> (10, 0)
ref_plane "Płaszczyzna konstrukcyjna3" through (0, 0, 0) normal (0, -1, 0) x (1, 0, 0)
sketch "Szkic3" plane through (0, 0, 0) normal (0, -1, 0) x (1, 0, 0)
  line L0 (-2, 15) -> (12, 15)
  line L1 (-2, 514) -> (12, 514)
  dimension "d7" = 499
ref_plane "Płaszczyzna konstrukcyjna4" through (-13.5, -530, 15) normal (0, 0, -1) x (-1, 0, 0)
split "Podział1" plane through (-13.5, -530, 15) removes the side toward (0, 0, -1)
ref_plane "Płaszczyzna konstrukcyjna5" through (-13.5, 15, 514) normal (0, 0, 1) x (1, 0, 0)
split "Podział2" plane through (-13.5, 15, 514) removes the side toward (0, 0, 1)
equation "\"G_OFFSET_START\" = -15"
equation "\"G_OFFSET_END\" = -15"
equation "\"d2\" = -G_OFFSET_START"
equation "\"d3\" = Length + G_OFFSET_END"
equation "\"G_L\" = d7"
equation "\"Length\" = 529"
properties part number "COTS_ARMA_AR3703_30x30_Alu_Extr_00000012" material "Aluminium 6061"
